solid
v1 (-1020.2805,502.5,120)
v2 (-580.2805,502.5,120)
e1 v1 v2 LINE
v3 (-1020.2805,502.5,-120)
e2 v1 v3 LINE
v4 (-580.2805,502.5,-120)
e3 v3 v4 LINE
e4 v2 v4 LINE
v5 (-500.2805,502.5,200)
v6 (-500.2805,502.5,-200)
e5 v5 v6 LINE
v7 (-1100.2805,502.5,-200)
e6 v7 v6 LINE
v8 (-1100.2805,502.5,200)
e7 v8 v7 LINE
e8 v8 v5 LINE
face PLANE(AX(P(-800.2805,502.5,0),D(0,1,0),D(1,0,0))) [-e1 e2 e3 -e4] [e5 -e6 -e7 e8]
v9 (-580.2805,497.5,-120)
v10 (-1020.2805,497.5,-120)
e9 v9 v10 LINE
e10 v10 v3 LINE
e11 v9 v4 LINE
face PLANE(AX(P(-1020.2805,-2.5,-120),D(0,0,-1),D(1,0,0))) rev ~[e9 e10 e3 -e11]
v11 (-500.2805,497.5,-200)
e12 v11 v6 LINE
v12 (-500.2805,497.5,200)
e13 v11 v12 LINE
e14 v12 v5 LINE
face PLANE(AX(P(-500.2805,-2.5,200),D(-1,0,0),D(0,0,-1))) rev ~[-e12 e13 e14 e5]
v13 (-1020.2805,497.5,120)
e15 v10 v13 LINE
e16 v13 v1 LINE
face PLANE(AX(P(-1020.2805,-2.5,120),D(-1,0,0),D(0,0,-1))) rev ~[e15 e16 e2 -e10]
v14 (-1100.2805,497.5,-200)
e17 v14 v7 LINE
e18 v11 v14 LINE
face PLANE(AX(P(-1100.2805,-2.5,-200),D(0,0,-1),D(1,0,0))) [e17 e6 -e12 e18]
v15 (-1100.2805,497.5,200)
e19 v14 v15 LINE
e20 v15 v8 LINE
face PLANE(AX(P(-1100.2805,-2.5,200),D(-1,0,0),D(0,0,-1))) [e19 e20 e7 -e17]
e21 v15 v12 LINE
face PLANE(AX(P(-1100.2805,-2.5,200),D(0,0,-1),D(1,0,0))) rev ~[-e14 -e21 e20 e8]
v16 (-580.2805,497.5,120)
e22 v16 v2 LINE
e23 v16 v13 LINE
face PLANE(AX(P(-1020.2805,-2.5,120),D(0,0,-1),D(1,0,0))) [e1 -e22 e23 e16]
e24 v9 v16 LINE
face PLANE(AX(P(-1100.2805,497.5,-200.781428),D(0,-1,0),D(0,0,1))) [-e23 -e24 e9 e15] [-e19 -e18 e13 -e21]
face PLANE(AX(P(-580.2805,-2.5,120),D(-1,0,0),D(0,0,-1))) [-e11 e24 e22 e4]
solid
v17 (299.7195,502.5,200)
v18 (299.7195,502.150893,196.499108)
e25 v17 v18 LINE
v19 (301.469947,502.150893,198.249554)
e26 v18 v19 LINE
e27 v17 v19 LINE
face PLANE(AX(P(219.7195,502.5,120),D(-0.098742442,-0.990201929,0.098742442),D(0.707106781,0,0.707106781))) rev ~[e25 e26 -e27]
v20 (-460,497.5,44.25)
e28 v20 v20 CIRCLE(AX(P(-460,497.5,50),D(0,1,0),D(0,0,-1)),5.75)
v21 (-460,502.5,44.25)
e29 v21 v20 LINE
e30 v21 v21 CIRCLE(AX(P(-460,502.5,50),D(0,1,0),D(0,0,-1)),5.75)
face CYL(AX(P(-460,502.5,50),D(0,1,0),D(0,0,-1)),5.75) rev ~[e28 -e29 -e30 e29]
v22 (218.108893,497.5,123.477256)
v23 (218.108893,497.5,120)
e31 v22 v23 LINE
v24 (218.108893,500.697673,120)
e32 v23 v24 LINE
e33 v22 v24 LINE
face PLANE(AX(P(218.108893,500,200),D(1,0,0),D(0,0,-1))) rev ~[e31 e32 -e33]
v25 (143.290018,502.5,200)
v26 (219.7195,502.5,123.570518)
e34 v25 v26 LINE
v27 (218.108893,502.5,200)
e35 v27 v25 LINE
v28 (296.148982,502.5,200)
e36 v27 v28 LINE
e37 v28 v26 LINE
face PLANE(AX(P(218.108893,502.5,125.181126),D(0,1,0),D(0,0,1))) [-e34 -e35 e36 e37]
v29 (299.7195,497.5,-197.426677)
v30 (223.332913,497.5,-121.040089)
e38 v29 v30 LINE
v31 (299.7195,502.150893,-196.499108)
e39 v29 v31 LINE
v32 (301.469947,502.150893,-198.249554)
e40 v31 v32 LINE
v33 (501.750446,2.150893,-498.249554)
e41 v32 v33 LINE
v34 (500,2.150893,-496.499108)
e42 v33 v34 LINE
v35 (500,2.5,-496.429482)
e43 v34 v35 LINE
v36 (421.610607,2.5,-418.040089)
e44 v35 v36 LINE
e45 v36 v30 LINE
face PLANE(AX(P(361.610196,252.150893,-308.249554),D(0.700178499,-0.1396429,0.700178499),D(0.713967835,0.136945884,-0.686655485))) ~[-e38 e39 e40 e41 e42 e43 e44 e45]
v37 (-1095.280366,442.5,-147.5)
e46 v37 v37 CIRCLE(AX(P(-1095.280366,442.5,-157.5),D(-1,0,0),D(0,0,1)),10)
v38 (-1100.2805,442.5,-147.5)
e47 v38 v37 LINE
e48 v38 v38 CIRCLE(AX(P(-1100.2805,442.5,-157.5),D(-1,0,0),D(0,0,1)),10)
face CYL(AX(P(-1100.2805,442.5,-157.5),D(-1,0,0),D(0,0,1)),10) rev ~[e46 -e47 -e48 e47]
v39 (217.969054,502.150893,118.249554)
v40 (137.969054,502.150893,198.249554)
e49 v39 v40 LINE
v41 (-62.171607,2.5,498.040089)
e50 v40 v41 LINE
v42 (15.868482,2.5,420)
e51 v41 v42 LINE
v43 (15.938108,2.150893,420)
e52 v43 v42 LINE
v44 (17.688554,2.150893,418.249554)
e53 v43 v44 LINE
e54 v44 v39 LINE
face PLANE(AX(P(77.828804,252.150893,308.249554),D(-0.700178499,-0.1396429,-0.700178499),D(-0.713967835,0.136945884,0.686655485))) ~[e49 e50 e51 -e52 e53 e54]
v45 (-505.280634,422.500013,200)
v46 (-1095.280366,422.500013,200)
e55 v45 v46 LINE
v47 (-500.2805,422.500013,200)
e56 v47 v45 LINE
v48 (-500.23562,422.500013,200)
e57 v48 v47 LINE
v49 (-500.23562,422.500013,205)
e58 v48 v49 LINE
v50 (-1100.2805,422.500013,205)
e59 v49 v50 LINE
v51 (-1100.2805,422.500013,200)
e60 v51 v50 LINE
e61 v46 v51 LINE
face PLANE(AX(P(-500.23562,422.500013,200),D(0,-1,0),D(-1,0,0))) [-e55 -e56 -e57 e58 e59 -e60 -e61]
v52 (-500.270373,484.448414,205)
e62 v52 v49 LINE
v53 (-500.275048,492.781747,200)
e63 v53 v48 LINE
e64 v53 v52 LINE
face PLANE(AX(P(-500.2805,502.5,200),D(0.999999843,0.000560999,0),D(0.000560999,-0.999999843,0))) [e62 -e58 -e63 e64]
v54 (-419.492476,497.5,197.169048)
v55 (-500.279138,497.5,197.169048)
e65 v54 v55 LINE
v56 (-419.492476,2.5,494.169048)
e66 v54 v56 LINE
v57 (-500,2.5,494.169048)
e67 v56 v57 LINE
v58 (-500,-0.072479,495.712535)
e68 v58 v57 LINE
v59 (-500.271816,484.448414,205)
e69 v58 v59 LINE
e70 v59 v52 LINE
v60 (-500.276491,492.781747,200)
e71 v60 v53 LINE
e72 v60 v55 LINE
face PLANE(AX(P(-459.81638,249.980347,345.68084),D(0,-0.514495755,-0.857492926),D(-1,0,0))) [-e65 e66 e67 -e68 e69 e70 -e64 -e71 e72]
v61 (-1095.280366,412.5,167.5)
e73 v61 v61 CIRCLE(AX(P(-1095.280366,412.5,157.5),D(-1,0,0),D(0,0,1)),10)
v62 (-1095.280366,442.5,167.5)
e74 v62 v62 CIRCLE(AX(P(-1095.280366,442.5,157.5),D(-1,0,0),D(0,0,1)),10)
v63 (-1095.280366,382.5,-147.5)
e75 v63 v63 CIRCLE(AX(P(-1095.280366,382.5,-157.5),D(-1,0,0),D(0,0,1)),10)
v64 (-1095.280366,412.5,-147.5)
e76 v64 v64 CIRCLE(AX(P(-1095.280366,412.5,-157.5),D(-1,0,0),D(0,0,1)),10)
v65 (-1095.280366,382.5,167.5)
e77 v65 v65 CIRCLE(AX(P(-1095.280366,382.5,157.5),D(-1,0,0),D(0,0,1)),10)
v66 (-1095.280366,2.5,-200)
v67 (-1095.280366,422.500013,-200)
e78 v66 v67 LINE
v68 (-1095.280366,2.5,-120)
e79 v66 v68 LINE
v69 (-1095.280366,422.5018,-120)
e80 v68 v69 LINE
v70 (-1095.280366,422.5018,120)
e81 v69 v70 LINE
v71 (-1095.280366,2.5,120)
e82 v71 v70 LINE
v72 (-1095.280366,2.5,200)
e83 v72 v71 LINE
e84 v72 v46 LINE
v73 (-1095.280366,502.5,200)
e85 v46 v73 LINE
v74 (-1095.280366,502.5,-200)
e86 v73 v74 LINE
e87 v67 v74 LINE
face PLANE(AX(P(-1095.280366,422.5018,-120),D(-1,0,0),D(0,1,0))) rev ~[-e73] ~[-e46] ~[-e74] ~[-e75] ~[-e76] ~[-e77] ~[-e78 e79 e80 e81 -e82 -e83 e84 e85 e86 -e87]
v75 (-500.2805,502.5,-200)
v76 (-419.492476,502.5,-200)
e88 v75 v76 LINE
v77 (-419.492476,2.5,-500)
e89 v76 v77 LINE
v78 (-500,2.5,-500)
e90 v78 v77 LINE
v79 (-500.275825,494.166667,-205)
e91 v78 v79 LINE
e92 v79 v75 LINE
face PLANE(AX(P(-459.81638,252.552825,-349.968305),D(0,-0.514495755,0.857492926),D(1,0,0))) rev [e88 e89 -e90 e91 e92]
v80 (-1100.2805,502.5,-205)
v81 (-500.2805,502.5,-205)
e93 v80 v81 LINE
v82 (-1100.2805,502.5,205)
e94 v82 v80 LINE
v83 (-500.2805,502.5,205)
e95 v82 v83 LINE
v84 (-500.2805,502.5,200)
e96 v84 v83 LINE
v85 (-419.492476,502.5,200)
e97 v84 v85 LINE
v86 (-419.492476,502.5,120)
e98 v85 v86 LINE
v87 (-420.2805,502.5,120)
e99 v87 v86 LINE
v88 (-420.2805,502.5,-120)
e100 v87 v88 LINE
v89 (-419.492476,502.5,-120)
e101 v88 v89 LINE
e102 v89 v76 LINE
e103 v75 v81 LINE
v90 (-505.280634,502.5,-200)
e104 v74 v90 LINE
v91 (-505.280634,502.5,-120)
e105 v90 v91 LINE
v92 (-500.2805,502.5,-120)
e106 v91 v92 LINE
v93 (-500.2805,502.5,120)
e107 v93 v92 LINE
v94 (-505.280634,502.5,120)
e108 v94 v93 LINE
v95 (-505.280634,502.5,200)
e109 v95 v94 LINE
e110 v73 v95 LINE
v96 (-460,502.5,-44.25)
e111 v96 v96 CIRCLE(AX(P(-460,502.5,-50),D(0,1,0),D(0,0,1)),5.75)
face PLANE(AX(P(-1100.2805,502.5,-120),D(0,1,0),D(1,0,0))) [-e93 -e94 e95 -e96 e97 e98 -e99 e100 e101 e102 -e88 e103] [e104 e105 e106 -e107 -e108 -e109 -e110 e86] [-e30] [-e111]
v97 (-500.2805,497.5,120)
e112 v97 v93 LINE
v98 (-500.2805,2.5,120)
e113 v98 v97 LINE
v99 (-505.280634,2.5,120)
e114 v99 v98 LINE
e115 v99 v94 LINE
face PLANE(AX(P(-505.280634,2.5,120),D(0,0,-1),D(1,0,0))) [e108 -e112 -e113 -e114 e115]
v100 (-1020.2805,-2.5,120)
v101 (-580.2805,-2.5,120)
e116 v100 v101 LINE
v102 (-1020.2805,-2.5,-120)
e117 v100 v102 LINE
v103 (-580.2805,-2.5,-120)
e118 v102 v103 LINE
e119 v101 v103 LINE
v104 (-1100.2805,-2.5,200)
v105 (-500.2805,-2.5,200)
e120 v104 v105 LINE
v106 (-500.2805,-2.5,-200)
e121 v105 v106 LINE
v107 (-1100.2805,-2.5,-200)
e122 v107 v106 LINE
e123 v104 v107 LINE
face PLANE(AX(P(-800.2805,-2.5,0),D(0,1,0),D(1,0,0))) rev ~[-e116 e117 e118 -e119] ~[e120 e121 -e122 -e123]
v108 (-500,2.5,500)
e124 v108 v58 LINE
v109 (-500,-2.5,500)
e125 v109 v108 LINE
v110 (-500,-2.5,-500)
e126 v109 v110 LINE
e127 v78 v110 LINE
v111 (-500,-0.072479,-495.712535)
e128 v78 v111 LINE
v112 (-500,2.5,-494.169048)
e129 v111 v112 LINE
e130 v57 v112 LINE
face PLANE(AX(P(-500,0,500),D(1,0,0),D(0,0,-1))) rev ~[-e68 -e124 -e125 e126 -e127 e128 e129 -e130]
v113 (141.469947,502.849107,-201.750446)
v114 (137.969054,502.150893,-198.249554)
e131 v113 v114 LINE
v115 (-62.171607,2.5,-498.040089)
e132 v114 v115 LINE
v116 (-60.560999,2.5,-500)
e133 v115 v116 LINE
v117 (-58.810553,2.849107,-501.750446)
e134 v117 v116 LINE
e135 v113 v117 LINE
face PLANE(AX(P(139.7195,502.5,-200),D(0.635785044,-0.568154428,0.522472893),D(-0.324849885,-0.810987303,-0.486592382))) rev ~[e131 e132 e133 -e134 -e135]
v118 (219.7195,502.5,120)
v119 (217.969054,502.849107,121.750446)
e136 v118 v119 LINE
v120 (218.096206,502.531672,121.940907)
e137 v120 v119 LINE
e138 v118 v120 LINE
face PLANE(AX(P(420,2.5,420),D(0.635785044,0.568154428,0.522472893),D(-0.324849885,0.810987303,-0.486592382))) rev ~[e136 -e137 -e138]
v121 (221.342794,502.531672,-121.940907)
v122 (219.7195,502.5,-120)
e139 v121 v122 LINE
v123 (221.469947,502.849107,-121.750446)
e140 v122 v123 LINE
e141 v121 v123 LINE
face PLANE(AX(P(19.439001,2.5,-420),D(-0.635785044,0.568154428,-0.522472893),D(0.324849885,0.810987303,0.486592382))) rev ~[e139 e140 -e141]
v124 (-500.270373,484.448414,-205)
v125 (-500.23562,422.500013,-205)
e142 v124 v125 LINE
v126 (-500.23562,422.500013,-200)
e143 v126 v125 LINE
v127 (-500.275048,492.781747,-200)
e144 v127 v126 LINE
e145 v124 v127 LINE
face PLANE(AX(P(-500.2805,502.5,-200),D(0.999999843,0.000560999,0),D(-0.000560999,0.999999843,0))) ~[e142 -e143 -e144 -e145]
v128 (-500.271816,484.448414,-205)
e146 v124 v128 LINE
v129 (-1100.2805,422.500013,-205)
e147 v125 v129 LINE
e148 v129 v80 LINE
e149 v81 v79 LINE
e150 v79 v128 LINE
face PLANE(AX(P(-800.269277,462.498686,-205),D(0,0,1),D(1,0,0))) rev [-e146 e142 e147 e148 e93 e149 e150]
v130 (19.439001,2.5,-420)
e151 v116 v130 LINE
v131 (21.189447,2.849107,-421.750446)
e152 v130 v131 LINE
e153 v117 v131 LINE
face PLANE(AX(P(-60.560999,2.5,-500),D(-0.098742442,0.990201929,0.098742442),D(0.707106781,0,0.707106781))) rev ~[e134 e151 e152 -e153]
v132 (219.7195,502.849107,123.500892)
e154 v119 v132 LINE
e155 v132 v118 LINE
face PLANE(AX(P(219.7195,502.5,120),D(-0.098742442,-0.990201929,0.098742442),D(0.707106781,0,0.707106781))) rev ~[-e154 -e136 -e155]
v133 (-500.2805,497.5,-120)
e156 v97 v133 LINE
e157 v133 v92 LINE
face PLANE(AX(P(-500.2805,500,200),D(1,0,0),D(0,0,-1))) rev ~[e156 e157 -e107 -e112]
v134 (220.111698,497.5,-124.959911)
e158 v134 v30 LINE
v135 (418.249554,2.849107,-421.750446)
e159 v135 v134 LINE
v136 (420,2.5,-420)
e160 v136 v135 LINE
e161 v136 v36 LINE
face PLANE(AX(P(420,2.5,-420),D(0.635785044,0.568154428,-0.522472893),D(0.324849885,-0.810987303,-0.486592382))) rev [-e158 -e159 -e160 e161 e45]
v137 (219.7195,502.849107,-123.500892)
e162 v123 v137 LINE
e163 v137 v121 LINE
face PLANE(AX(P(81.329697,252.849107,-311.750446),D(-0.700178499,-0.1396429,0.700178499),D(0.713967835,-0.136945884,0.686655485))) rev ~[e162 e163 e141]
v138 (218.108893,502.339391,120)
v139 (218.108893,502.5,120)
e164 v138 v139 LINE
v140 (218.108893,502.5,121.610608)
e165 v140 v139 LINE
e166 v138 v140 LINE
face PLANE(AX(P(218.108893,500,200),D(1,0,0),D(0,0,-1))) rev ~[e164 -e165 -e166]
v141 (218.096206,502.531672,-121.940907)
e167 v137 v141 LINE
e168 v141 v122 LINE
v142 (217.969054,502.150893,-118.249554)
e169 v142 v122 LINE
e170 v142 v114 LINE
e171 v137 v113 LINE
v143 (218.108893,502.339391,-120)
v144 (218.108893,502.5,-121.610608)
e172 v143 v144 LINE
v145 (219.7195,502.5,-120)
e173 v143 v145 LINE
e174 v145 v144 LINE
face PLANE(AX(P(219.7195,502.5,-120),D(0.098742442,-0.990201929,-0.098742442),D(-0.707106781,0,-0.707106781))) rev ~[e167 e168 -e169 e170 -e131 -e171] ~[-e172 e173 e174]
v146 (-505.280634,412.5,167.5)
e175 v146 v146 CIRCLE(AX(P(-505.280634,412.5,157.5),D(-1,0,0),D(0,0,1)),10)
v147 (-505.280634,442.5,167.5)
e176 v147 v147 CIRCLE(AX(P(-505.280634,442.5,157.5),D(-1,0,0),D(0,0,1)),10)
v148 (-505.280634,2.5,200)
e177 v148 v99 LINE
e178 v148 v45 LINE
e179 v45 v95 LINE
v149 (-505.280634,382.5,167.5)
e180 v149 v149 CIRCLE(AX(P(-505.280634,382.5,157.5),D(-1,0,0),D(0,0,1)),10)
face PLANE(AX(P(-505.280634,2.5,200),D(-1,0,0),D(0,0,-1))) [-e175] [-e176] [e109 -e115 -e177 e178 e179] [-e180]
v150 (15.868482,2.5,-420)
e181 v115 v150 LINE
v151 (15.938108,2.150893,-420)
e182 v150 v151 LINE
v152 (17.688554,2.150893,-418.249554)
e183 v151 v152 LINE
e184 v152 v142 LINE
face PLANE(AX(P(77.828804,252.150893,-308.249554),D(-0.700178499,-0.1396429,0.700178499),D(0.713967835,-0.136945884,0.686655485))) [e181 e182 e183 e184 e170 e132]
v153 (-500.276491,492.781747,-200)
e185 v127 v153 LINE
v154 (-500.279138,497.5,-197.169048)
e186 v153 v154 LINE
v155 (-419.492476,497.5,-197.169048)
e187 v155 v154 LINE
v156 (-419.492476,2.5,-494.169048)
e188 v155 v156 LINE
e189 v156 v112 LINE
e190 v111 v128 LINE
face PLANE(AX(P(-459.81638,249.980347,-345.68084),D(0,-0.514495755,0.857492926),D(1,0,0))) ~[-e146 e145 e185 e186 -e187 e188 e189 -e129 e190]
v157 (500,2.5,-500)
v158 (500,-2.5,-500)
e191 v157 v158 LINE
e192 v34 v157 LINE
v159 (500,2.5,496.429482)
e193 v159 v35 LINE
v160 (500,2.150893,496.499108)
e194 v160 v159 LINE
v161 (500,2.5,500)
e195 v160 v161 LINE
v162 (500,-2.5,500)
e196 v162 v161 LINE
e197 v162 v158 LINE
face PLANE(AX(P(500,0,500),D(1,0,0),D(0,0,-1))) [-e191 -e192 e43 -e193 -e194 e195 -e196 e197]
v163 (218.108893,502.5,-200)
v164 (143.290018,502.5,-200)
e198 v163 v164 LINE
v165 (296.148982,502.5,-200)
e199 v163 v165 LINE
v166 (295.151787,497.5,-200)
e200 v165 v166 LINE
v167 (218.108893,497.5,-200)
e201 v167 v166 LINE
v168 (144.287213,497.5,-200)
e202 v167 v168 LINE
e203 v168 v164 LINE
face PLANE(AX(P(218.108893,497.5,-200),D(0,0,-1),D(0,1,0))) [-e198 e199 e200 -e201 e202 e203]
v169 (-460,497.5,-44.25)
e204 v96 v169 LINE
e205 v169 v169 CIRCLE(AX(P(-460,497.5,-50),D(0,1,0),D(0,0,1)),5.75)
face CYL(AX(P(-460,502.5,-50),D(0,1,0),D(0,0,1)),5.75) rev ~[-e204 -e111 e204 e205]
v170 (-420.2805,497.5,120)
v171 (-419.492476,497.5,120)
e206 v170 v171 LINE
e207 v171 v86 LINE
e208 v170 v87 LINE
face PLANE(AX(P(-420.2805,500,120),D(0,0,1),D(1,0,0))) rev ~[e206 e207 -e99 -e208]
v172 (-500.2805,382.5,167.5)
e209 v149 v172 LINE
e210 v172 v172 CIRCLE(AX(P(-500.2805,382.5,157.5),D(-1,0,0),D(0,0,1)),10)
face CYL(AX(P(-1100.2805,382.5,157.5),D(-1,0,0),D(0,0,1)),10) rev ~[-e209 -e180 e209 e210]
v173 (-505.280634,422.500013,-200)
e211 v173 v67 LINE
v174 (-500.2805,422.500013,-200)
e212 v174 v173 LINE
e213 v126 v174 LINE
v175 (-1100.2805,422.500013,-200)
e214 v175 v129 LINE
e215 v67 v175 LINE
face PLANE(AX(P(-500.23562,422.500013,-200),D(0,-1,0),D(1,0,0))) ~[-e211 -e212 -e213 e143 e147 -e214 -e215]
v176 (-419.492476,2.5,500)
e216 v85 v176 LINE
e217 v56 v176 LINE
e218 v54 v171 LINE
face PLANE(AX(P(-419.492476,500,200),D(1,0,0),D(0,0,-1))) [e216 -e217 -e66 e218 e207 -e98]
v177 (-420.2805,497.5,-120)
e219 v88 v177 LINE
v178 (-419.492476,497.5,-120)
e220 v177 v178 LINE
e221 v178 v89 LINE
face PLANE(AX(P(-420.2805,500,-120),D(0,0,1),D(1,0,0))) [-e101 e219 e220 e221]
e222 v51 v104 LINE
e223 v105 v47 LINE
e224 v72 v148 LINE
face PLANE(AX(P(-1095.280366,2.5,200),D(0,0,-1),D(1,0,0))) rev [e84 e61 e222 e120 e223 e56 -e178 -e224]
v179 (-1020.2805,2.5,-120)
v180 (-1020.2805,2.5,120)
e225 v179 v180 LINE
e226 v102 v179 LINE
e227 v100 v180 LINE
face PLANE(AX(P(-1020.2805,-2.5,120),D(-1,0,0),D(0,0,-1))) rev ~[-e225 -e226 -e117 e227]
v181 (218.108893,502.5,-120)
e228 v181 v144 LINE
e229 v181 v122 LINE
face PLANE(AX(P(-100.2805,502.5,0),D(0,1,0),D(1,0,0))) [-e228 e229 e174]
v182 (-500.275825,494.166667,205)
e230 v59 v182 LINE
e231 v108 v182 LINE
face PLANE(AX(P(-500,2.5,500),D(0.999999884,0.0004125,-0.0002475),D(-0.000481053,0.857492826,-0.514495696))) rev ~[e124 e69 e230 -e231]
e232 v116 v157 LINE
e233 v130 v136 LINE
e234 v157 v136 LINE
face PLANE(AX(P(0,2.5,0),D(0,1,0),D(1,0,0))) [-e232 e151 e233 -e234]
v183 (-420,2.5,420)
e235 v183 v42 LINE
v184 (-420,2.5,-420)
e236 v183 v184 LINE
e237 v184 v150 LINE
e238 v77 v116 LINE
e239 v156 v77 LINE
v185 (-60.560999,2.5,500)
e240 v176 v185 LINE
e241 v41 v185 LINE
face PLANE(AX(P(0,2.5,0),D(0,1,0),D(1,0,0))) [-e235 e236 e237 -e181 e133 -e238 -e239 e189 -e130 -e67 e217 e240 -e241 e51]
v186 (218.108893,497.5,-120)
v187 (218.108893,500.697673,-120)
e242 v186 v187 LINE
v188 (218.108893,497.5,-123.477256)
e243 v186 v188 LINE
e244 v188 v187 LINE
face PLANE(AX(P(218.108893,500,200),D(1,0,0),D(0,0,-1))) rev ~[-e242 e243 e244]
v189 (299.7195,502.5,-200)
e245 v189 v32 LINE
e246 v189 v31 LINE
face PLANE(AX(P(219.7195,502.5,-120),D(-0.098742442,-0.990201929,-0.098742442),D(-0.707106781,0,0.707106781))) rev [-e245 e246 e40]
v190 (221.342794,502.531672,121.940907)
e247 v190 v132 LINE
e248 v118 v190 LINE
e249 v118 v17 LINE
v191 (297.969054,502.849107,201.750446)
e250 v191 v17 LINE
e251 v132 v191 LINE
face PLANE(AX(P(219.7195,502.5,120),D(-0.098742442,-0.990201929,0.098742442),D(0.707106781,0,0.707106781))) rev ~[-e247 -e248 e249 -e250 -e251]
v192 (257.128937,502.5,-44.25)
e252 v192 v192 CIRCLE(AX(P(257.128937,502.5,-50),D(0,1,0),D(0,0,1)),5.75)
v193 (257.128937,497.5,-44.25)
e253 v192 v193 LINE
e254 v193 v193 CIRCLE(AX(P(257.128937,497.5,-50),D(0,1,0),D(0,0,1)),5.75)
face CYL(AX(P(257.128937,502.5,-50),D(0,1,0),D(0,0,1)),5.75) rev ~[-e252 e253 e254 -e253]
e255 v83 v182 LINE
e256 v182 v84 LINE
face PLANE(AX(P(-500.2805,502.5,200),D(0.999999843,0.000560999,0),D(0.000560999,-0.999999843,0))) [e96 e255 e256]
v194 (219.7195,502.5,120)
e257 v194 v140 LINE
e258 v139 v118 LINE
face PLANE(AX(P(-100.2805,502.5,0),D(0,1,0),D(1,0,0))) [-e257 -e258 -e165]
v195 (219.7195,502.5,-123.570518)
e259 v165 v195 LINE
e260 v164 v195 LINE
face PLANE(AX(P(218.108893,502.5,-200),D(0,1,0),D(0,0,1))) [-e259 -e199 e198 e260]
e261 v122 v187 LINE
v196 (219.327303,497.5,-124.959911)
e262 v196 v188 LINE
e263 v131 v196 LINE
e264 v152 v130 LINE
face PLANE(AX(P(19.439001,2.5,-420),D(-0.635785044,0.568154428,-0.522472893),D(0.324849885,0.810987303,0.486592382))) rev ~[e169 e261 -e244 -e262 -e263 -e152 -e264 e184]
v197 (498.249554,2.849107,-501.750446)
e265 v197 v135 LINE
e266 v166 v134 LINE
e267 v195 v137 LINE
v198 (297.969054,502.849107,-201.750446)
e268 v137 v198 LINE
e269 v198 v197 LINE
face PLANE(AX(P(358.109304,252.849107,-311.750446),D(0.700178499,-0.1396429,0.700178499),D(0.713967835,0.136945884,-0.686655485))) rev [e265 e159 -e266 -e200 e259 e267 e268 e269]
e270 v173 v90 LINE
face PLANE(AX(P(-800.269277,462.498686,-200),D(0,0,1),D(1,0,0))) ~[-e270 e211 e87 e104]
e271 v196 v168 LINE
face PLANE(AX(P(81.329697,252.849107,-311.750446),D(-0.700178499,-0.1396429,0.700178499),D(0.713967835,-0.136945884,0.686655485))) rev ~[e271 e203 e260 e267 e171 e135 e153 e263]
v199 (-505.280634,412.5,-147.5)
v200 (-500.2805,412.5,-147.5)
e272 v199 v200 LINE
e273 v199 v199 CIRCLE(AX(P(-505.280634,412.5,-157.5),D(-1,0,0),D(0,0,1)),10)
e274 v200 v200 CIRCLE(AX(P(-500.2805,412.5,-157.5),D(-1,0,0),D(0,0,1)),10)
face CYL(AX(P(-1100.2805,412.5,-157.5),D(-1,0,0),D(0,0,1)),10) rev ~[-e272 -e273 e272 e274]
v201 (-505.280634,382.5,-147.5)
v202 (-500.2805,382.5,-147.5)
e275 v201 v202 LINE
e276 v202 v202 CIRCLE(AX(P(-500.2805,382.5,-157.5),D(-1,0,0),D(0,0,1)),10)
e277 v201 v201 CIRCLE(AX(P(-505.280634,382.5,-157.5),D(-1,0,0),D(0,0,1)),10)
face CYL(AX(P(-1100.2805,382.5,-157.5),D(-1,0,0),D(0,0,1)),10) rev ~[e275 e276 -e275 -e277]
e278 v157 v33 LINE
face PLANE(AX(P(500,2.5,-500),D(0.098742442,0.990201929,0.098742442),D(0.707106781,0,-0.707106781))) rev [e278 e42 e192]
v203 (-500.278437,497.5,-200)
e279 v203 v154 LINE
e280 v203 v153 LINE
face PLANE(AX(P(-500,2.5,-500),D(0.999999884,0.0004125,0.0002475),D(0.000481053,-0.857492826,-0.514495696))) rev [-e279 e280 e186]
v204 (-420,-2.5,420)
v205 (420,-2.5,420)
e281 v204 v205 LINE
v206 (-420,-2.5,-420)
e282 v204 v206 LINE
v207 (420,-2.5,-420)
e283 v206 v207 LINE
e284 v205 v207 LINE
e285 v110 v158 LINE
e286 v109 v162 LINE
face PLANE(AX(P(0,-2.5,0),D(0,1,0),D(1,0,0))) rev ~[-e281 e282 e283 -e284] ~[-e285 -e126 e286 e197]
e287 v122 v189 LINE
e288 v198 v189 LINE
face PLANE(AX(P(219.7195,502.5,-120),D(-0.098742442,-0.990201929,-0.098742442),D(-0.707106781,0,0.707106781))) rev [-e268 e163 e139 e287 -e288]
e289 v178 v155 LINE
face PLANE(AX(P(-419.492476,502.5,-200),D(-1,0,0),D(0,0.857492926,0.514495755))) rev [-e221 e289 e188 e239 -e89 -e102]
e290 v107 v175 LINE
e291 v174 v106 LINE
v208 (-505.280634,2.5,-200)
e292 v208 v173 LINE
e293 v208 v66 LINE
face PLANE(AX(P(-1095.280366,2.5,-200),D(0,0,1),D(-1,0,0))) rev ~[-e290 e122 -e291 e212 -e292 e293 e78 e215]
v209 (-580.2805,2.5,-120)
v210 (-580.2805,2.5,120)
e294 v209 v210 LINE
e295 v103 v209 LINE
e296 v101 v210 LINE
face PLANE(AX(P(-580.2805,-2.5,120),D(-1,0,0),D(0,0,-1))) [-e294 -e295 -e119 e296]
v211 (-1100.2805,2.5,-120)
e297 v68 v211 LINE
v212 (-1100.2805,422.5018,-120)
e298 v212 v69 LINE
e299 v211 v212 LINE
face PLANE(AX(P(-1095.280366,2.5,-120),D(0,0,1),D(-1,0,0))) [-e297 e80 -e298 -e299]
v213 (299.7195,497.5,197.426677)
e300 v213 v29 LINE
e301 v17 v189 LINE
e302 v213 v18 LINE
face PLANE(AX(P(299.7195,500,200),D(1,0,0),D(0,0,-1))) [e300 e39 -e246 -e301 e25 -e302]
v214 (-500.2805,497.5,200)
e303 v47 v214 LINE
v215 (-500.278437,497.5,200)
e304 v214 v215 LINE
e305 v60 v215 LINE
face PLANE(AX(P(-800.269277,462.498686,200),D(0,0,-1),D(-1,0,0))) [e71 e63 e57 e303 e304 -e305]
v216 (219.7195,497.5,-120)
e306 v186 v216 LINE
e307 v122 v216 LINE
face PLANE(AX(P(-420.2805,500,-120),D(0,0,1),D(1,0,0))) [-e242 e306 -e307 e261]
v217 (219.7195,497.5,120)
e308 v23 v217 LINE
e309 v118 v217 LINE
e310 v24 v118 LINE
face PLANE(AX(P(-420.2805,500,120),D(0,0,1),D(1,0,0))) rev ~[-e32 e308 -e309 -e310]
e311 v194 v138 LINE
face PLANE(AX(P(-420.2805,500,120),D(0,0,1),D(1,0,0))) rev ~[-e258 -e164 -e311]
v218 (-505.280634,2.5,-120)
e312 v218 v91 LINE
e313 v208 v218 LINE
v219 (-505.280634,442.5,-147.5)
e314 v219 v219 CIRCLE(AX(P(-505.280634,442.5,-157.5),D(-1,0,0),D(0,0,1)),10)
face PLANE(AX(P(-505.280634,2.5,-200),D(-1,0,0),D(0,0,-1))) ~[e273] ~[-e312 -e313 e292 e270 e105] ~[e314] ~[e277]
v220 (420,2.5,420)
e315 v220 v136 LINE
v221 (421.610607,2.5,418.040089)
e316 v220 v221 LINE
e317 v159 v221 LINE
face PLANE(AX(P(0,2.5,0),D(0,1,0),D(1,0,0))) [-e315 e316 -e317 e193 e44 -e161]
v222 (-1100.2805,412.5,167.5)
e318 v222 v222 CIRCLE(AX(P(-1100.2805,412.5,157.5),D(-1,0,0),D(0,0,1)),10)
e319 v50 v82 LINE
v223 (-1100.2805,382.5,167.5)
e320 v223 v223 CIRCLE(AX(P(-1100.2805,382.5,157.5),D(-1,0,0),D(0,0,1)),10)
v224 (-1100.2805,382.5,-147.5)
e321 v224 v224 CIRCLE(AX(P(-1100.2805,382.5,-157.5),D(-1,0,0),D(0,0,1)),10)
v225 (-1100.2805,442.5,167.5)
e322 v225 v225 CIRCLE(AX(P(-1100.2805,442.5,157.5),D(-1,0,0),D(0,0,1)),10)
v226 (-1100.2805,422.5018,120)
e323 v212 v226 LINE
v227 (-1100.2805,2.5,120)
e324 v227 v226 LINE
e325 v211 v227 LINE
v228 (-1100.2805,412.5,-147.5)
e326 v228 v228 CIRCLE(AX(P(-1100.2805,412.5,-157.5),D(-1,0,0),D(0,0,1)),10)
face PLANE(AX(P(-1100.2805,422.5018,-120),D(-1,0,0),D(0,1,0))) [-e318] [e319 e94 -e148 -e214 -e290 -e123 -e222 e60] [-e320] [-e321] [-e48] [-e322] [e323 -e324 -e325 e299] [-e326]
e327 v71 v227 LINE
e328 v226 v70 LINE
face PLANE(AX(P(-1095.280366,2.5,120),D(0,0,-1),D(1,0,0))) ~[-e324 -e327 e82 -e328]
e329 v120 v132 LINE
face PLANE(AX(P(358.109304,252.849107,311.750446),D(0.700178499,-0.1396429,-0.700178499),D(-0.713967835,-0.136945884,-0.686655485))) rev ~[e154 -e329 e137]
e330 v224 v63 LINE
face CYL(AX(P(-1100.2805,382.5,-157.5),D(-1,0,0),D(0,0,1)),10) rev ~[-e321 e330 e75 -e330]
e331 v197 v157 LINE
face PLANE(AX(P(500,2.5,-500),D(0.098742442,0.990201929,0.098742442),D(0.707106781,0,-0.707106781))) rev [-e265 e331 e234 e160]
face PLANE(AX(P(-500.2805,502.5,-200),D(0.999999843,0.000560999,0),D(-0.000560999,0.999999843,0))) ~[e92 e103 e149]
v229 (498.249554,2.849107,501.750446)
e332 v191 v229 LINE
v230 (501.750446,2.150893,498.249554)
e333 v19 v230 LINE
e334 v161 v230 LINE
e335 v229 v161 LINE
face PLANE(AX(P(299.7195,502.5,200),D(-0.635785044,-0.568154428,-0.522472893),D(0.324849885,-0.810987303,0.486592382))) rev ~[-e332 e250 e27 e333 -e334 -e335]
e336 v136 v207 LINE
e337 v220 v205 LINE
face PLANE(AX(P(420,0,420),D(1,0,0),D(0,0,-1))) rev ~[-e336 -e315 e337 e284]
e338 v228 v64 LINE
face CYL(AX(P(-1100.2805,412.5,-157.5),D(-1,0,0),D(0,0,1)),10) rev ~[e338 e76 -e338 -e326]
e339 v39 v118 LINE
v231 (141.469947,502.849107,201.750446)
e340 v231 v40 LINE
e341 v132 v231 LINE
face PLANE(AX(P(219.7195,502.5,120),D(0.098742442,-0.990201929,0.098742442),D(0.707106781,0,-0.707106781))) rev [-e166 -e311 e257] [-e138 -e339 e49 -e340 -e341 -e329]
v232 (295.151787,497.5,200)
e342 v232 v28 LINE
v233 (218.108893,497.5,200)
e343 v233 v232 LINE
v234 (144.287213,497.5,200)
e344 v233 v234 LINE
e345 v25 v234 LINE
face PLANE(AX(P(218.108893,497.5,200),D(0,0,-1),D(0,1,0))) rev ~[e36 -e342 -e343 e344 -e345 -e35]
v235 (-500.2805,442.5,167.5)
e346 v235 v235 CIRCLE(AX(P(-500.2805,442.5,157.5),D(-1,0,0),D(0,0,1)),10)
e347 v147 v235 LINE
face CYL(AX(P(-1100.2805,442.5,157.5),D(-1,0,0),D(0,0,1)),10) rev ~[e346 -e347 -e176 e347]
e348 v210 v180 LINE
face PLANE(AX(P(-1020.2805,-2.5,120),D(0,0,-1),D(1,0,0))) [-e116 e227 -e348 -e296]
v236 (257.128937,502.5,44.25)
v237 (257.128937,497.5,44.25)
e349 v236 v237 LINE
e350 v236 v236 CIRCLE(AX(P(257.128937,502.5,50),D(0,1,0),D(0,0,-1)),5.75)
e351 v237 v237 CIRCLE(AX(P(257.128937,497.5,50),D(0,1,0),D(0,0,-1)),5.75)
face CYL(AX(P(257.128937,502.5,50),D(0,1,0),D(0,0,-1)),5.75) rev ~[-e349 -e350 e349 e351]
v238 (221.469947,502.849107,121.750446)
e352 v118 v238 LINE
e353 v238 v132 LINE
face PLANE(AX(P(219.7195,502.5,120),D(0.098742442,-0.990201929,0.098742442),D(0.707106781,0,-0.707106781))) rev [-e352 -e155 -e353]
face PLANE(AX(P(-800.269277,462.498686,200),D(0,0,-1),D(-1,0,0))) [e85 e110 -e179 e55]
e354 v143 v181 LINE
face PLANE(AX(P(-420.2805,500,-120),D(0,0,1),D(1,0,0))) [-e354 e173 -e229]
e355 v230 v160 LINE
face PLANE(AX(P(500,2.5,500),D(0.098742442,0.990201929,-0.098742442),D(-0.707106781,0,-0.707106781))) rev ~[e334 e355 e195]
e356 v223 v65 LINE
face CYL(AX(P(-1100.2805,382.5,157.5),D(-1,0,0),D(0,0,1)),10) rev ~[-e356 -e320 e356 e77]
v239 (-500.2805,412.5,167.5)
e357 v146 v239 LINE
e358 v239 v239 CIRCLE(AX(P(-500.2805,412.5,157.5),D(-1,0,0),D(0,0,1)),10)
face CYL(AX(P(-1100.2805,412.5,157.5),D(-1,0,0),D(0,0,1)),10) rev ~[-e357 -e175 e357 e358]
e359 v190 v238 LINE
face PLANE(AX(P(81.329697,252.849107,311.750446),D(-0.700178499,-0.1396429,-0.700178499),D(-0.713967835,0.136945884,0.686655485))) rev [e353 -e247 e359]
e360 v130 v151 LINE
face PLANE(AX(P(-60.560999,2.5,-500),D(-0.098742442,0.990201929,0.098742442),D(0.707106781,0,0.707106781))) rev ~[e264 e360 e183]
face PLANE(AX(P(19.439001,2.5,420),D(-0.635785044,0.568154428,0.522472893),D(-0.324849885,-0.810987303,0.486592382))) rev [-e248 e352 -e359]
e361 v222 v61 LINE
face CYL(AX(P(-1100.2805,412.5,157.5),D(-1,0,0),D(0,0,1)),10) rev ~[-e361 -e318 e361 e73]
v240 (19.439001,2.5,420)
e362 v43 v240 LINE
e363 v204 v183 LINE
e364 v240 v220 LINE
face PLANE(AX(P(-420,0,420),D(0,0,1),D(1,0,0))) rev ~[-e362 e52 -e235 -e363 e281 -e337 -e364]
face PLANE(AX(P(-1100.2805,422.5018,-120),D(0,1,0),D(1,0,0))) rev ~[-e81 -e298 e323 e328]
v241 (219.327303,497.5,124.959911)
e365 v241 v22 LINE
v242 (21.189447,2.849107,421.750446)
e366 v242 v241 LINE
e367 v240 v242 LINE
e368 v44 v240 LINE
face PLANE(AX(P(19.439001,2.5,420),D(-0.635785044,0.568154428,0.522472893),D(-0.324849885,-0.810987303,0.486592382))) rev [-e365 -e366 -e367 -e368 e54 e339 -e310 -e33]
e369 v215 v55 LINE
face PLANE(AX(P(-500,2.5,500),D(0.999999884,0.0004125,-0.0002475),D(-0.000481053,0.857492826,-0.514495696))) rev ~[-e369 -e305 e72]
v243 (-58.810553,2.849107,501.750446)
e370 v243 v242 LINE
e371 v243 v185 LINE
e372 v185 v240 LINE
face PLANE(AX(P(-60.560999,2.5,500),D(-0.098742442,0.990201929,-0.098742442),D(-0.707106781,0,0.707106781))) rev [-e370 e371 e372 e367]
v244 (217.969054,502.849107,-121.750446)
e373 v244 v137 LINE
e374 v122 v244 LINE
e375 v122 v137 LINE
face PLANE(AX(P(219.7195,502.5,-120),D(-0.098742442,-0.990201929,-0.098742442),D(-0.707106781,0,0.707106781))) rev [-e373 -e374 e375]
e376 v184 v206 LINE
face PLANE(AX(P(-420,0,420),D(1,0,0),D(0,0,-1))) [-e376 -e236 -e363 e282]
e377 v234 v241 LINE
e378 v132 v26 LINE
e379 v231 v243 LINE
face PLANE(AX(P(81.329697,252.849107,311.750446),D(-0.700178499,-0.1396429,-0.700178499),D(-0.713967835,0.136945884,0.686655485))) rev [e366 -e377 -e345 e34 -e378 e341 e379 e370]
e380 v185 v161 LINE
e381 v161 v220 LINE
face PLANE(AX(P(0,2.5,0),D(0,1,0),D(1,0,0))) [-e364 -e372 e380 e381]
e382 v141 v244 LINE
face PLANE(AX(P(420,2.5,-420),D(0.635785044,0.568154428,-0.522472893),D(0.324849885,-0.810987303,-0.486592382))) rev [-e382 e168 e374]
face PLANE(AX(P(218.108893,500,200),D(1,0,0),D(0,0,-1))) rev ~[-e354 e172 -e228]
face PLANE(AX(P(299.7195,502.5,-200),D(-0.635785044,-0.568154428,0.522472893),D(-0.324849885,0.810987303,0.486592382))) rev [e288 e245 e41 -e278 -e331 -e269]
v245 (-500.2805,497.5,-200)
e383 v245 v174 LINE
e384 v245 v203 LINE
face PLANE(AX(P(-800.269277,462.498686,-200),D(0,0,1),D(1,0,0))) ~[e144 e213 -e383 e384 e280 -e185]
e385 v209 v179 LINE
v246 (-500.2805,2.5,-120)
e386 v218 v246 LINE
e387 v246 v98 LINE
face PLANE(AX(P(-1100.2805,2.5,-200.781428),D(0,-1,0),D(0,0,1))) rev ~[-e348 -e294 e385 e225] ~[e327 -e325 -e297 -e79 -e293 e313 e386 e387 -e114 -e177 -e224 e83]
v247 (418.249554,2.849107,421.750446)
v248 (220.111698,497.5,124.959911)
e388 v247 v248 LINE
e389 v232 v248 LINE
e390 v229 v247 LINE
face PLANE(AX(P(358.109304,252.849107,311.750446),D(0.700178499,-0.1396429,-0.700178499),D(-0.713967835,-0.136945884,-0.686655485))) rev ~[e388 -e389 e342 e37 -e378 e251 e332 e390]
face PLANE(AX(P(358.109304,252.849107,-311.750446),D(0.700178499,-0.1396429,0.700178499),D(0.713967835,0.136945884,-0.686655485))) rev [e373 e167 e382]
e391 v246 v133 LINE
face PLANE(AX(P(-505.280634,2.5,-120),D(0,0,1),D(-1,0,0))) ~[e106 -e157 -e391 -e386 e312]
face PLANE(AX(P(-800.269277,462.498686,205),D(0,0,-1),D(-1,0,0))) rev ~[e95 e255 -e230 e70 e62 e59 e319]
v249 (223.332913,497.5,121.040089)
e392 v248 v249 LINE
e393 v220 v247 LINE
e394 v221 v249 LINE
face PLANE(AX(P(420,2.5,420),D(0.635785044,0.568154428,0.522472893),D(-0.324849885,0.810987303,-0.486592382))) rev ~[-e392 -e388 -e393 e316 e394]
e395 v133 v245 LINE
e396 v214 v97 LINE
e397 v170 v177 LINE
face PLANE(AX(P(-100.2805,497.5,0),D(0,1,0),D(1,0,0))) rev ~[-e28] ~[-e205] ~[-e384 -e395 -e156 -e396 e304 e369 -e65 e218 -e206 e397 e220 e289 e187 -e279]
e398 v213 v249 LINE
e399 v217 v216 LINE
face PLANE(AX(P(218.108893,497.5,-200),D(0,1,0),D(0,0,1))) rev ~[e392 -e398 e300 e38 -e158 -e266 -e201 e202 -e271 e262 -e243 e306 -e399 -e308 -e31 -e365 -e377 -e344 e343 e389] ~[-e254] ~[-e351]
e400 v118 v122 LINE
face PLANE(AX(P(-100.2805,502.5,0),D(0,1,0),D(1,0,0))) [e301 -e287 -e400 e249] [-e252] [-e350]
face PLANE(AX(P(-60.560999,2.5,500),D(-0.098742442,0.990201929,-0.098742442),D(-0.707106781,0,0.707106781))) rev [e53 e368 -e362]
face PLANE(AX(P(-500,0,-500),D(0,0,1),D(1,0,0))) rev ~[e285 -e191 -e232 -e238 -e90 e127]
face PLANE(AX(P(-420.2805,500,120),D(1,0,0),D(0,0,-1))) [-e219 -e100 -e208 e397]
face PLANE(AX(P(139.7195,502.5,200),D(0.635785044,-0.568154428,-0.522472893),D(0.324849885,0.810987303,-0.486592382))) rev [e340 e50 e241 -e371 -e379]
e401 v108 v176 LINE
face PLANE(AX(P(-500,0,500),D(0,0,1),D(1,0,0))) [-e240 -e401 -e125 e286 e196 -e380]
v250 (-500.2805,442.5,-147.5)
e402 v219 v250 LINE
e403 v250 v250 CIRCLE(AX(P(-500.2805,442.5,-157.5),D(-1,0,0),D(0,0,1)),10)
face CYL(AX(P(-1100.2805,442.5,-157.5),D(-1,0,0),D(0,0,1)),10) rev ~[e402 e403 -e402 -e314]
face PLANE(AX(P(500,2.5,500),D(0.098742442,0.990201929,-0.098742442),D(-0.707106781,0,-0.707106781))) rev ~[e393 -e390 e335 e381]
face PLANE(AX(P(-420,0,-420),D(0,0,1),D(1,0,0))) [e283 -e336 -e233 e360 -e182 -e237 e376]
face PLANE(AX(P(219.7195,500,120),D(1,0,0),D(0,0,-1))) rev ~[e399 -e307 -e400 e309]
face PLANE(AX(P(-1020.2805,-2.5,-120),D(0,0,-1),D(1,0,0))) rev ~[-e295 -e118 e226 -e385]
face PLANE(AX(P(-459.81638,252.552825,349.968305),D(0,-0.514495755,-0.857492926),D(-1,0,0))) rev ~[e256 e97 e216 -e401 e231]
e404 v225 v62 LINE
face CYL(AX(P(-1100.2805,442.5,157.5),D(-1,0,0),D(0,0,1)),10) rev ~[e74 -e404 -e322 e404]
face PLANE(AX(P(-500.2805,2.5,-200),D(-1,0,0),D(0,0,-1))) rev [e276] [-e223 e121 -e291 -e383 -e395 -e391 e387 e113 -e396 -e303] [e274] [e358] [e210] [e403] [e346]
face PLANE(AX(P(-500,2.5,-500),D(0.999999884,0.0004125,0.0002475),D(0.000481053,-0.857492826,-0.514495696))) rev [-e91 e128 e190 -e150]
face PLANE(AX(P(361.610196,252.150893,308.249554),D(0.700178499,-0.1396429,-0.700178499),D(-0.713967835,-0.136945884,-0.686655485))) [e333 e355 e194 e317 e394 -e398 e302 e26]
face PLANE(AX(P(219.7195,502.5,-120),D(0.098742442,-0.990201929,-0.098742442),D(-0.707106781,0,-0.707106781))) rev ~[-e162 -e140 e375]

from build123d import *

# Parameters (mm, degrees)
SKETCH1_W                = 1000
SKETCH1_H                = 1000
SKETCH1_W_2              = 840
SKETCH1_H_2              = 840
BOSS_EXTRUDE1_DEPTH      = 2.5
BOSS_EXTRUDE2_START      = 500
SKETCH2_W                = 800
SKETCH2_H                = 400
SKETCH2_W_2              = 640
SKETCH2_H_2              = 240
BOSS_EXTRUDE2_DEPTH      = 2.5
BOSS_EXTRUDE3_DEPTH      = 2.5
BOSS_EXTRUDE4_DEPTH      = 5
CUT_EXTRUDE1_START       = 500
SKETCH7_W                = 637.601368613
SKETCH7_H                = 400
CUT_EXTRUDE1_DEPTH       = 2.5
BOSS_EXTRUDE5_DEPTH      = 502.5
BOSS_EXTRUDE5_DEPTH_BACK = 2.5
SKETCH8_W                = 600
SKETCH8_H                = 400
SKETCH8_W_2              = 440
SKETCH8_H_2              = 240
SKETCH9_W                = 400.781427926
SKETCH9_H                = 495
CUT_EXTRUDE5_DEPTH       = 600
SKETCH15_W               = 5.000134222
SKETCH15_H               = 80
BOSS_EXTRUDE8_DEPTH      = 500
MIRROR4_COPY_1_SKETCH_W  = 5.000134222
MIRROR4_COPY_1_SKETCH_H  = 80
MIRROR4_COPY_1_DEPTH     = 500
SKETCH16_R               = 10
CUT_EXTRUDE6_DEPTH       = 611
BOSS_EXTRUDE9_START      = 200
BOSS_EXTRUDE9_DEPTH      = 5
SKETCH18_W               = 5.000134222
SKETCH18_H               = 79.998199755
BOSS_EXTRUDE10_DEPTH     = 240
SKETCH19_R               = 5.75
CUT_EXTRUDE7_DEPTH       = 5
BOSS_EXTRUDE11_REACH     = 1499.585
SKETCH20_W               = 74.818874407
SKETCH20_H               = 5
MIRROR9_COPY_1_DEPTH     = 2.5
MIRROR9_COPY_2_DEPTH     = 2.5
BOSS_EXTRUDE12_REACH     = 1499.585
SKETCH21_W               = 74.818874407
SKETCH21_H               = 5


with BuildPart() as part:
    # Sketch1 → Boss-Extrude1 (new, symmetric)
    with BuildSketch(Plane(origin=(0, 0, 0), x_dir=(1, 0, 0), z_dir=(0, 1, 0))):
        Rectangle(SKETCH1_W, SKETCH1_H)
        Rectangle(SKETCH1_W_2, SKETCH1_H_2, mode=Mode.SUBTRACT)
    extrude(amount=BOSS_EXTRUDE1_DEPTH, both=True)



with BuildPart() as body_2:
    # Sketch2 → Boss-Extrude2 (new, symmetric)
    with BuildSketch(Plane(origin=(0, 0, 0), x_dir=(1, 0, 0), z_dir=(0, 1, 0)).offset(BOSS_EXTRUDE2_START)):
        with Locations((-100.280499743, 0)):
            Rectangle(SKETCH2_W, SKETCH2_H)
        with Locations((-100.280499743, 0)):
            Rectangle(SKETCH2_W_2, SKETCH2_H_2, mode=Mode.SUBTRACT)
    extrude(amount=BOSS_EXTRUDE2_DEPTH, both=True)


with BuildPart() as part_1:
    add(part.part)

    add(body_2.part)  # Boss-Extrude3 merges body 2
    # Sketch5 → Boss-Extrude3 (add, symmetric)
    with BuildSketch(Plane(origin=(-0.24443739, 0.048750349, 0.24443739), x_dir=(0.7139678352410923, 0.1369458836422083, 0.6866554850830242), z_dir=(-0.7001784988423656, 0.13964289999030452, 0.7001784988423663))):
        Polygon((308.086620699, 469.324430499), (420.136486325, 453.67746232), (700.654024871, -95.341835287), (588.604159245, -79.694867108), align=None)
    boss_extrude3 = extrude(amount=BOSS_EXTRUDE3_DEPTH, both=True)

    # Mirror1: Boss-Extrude3 across plane
    add(boss_extrude3.mirror(Plane.XY))

    # Sketch6 → Boss-Extrude4 (add)
    with BuildSketch(Plane(origin=(0, 221.25, 368.75), x_dir=(1, 0, 0), z_dir=(0, 0.5144957554275265, 0.8574929257125443))):
        Polygon((-500.280499743, 327.991044085), (-419.492475854, 327.991044085), (-419.492475854, -255.104145399), (-500, -255.104145399), align=None)
    boss_extrude4 = extrude(amount=-BOSS_EXTRUDE4_DEPTH)

    # Mirror2: Boss-Extrude4 across plane
    add(boss_extrude4.mirror(Plane.XY))

    # Sketch7 → Cut-Extrude1 (cut, symmetric)
    with BuildSketch(Plane(origin=(0, 0, 0), x_dir=(1, 0, 0), z_dir=(0, 1, 0)).offset(CUT_EXTRUDE1_START)):
        with Locations((-100.691791548, 0)):
            Rectangle(SKETCH7_W, SKETCH7_H)
    extrude(amount=CUT_EXTRUDE1_DEPTH, both=True, mode=Mode.SUBTRACT)



with BuildPart() as body_2_2:
    # Sketch8 → Boss-Extrude5 (new, two sides: drawn at the far end of the back side and taken through both)
    with BuildSketch(Plane(origin=(0, 0, 0), x_dir=(1, 0, 0), z_dir=(0, 1, 0)).offset(-BOSS_EXTRUDE5_DEPTH_BACK)):
        with Locations((-800.280499743, 0)):
            Rectangle(SKETCH8_W, SKETCH8_H)
        with Locations((-800.280499743, 0)):
            Rectangle(SKETCH8_W_2, SKETCH8_H_2, mode=Mode.SUBTRACT)
    extrude(amount=BOSS_EXTRUDE5_DEPTH + BOSS_EXTRUDE5_DEPTH_BACK)

    # Sketch9 → Cut-Extrude5 (cut)
    with BuildSketch(Plane.ZY.offset(1100.280499743)):
        with Locations((-0.390713963, 250)):
            Rectangle(SKETCH9_W, SKETCH9_H)
    extrude(amount=-CUT_EXTRUDE5_DEPTH, mode=Mode.SUBTRACT)


with BuildPart() as cut_extrude5_piece_1:
    # of the separate pieces the step leaves, piece 1, a body of its own (cut_extrude5_pieces)
    add(body_2_2.part.solids().sort_by_distance((-1100.280499743, 497.5, -200))[0])


with BuildPart() as cut_extrude5_piece_2:
    # of the separate pieces the step leaves, piece 2, a body of its own (cut_extrude5_pieces)
    add(body_2_2.part.solids().sort_by_distance((-1100.280499743, -2.5, -200))[0])


with BuildPart() as part_2:
    add(part_1.part)

    add(cut_extrude5_piece_2.part)  # Boss-Extrude8 merges Cut-Extrude5 piece 2
    # Sketch15 → Boss-Extrude8 (add)
    with BuildSketch(Plane(origin=(0, 2.5, 0), x_dir=(1, 0, 0), z_dir=(0, 1, 0))):
        with Locations((-502.780566854, -160)):
            Rectangle(SKETCH15_W, SKETCH15_H)
    boss_extrude8 = extrude(amount=BOSS_EXTRUDE8_DEPTH)

    # Mirror3: Boss-Extrude8 across plane
    add(boss_extrude8.mirror(Plane.XY))

    # Mirror4: Boss-Extrude8 across plane
    add(boss_extrude8.mirror(Plane.ZY.offset(800.280499743)))

    # Mirror4 copy 1 sketch → Mirror4 copy 1 (add)
    with BuildSketch(Plane(origin=(-1600.560999486, 2.5, 0), x_dir=(-1, 0, 0), z_dir=(0, 1, 0))):
        with Locations((-502.780566854, -160)):
            Rectangle(MIRROR4_COPY_1_SKETCH_W, MIRROR4_COPY_1_SKETCH_H)
    extrude(amount=MIRROR4_COPY_1_DEPTH)

    # Sketch16 → Cut-Extrude6 (cut)
    with BuildSketch(Plane.ZY.offset(1100.280499743)):
        with Locations((157.5, 442.5)):
            Circle(SKETCH16_R)
        with Locations((157.5, 412.5)):
            Circle(SKETCH16_R)
        with Locations((157.5, 382.5)):
            Circle(SKETCH16_R)
        with Locations((-157.5, 442.5)):
            Circle(SKETCH16_R)
        with Locations((-157.5, 412.5)):
            Circle(SKETCH16_R)
        with Locations((-157.5, 382.5)):
            Circle(SKETCH16_R)
    extrude(amount=-CUT_EXTRUDE6_DEPTH, mode=Mode.SUBTRACT)

    # Sketch17 → Boss-Extrude9 (add)
    with BuildSketch(Plane.XY.offset(BOSS_EXTRUDE9_START)):
        Polygon((-1100.280499743, 502.5), (-500.280499743, 502.5), (-500.235619791, 422.500012589), (-1100.280499743, 422.500012589), align=None)
    boss_extrude9 = extrude(amount=BOSS_EXTRUDE9_DEPTH)

    # Mirror6: Boss-Extrude9 across plane
    add(boss_extrude9.mirror(Plane.XY))

    # Sketch18 → Boss-Extrude10 (add)
    with BuildSketch(Plane.XY.offset(-120)):
        with Locations((-1097.780432632, 462.500900123)):
            Rectangle(SKETCH18_W, SKETCH18_H)
    extrude(amount=BOSS_EXTRUDE10_DEPTH)

    # Sketch19 → Cut-Extrude7 (cut)
    with BuildSketch(Plane(origin=(0, 502.5, 0), x_dir=(1, 0, 0), z_dir=(0, 1, 0))):
        with Locations(Location((-460, 50, 0), (0, 0, 270))):
            Circle(SKETCH19_R)
        with Locations(Location((-460, -50, 0), (0, 0, 90))):
            Circle(SKETCH19_R)
        with Locations(Location((257.12893746, 50, 0), (0, 0, 270))):
            Circle(SKETCH19_R)
        with Locations(Location((257.12893746, -50, 0), (0, 0, 90))):
            Circle(SKETCH19_R)
    extrude(amount=-CUT_EXTRUDE7_DEPTH, mode=Mode.SUBTRACT)

    # Mirror8: Boss-Extrude3 across plane
    add(boss_extrude3.mirror(Plane.ZY.offset(-219.719500257)))

    # Sketch20 → Boss-Extrude11 (add, up to next)
    with BuildSketch(Plane.ZY.offset(-218.108892759), mode=Mode.PRIVATE) as boss_extrude11_sk1:
        with Locations((162.590562796, 500)):
            Rectangle(SKETCH20_W, SKETCH20_H)
    boss_extrude11_tool1 = extrude(boss_extrude11_sk1.sketch, amount=BOSS_EXTRUDE11_REACH, mode=Mode.PRIVATE) - part_2.part
    add(boss_extrude11_tool1.solids().sort_by_distance((218.108893, 500, 162.590563))[0])

    # Mirror9 copy 1 sketch → Mirror9 copy 1 (add, symmetric)
    with BuildSketch(Plane(origin=(439.683437904, 0.048750349, -0.24443739), x_dir=(-0.7139678352410916, 0.1369458836422083, -0.6866554850830249), z_dir=(0.7001784988423663, 0.13964289999030452, -0.7001784988423656))):
        Polygon((308.086620699, 469.324430499), (420.136486325, 453.67746232), (700.654024871, -95.341835287), (588.604159245, -79.694867108), align=None)
    extrude(amount=MIRROR9_COPY_1_DEPTH, both=True)

    # Mirror9 copy 2 sketch → Mirror9 copy 2 (add, symmetric)
    with BuildSketch(Plane(origin=(-0.24443739, 0.048750349, -0.24443739), x_dir=(0.7139678352410923, 0.1369458836422083, -0.6866554850830242), z_dir=(-0.7001784988423656, 0.13964289999030452, -0.7001784988423663))):
        Polygon((308.086620699, -469.324430499), (420.136486325, -453.67746232), (700.654024871, 95.341835287), (588.604159245, 79.694867108), align=None)
    extrude(amount=MIRROR9_COPY_2_DEPTH, both=True)

    # Sketch21 → Boss-Extrude12 (add, up to next)
    with BuildSketch(Plane.ZY.offset(-218.108892759), mode=Mode.PRIVATE) as boss_extrude12_sk1:
        with Locations((-162.590562796, 500)):
            Rectangle(SKETCH21_W, SKETCH21_H)
    boss_extrude12_tool1 = extrude(boss_extrude12_sk1.sketch, amount=BOSS_EXTRUDE12_REACH, mode=Mode.PRIVATE) - part_2.part
    add(boss_extrude12_tool1.solids().sort_by_distance((218.108893, 500, -162.590563))[0])


solid = Compound([cut_extrude5_piece_1.part, part_2.part])
